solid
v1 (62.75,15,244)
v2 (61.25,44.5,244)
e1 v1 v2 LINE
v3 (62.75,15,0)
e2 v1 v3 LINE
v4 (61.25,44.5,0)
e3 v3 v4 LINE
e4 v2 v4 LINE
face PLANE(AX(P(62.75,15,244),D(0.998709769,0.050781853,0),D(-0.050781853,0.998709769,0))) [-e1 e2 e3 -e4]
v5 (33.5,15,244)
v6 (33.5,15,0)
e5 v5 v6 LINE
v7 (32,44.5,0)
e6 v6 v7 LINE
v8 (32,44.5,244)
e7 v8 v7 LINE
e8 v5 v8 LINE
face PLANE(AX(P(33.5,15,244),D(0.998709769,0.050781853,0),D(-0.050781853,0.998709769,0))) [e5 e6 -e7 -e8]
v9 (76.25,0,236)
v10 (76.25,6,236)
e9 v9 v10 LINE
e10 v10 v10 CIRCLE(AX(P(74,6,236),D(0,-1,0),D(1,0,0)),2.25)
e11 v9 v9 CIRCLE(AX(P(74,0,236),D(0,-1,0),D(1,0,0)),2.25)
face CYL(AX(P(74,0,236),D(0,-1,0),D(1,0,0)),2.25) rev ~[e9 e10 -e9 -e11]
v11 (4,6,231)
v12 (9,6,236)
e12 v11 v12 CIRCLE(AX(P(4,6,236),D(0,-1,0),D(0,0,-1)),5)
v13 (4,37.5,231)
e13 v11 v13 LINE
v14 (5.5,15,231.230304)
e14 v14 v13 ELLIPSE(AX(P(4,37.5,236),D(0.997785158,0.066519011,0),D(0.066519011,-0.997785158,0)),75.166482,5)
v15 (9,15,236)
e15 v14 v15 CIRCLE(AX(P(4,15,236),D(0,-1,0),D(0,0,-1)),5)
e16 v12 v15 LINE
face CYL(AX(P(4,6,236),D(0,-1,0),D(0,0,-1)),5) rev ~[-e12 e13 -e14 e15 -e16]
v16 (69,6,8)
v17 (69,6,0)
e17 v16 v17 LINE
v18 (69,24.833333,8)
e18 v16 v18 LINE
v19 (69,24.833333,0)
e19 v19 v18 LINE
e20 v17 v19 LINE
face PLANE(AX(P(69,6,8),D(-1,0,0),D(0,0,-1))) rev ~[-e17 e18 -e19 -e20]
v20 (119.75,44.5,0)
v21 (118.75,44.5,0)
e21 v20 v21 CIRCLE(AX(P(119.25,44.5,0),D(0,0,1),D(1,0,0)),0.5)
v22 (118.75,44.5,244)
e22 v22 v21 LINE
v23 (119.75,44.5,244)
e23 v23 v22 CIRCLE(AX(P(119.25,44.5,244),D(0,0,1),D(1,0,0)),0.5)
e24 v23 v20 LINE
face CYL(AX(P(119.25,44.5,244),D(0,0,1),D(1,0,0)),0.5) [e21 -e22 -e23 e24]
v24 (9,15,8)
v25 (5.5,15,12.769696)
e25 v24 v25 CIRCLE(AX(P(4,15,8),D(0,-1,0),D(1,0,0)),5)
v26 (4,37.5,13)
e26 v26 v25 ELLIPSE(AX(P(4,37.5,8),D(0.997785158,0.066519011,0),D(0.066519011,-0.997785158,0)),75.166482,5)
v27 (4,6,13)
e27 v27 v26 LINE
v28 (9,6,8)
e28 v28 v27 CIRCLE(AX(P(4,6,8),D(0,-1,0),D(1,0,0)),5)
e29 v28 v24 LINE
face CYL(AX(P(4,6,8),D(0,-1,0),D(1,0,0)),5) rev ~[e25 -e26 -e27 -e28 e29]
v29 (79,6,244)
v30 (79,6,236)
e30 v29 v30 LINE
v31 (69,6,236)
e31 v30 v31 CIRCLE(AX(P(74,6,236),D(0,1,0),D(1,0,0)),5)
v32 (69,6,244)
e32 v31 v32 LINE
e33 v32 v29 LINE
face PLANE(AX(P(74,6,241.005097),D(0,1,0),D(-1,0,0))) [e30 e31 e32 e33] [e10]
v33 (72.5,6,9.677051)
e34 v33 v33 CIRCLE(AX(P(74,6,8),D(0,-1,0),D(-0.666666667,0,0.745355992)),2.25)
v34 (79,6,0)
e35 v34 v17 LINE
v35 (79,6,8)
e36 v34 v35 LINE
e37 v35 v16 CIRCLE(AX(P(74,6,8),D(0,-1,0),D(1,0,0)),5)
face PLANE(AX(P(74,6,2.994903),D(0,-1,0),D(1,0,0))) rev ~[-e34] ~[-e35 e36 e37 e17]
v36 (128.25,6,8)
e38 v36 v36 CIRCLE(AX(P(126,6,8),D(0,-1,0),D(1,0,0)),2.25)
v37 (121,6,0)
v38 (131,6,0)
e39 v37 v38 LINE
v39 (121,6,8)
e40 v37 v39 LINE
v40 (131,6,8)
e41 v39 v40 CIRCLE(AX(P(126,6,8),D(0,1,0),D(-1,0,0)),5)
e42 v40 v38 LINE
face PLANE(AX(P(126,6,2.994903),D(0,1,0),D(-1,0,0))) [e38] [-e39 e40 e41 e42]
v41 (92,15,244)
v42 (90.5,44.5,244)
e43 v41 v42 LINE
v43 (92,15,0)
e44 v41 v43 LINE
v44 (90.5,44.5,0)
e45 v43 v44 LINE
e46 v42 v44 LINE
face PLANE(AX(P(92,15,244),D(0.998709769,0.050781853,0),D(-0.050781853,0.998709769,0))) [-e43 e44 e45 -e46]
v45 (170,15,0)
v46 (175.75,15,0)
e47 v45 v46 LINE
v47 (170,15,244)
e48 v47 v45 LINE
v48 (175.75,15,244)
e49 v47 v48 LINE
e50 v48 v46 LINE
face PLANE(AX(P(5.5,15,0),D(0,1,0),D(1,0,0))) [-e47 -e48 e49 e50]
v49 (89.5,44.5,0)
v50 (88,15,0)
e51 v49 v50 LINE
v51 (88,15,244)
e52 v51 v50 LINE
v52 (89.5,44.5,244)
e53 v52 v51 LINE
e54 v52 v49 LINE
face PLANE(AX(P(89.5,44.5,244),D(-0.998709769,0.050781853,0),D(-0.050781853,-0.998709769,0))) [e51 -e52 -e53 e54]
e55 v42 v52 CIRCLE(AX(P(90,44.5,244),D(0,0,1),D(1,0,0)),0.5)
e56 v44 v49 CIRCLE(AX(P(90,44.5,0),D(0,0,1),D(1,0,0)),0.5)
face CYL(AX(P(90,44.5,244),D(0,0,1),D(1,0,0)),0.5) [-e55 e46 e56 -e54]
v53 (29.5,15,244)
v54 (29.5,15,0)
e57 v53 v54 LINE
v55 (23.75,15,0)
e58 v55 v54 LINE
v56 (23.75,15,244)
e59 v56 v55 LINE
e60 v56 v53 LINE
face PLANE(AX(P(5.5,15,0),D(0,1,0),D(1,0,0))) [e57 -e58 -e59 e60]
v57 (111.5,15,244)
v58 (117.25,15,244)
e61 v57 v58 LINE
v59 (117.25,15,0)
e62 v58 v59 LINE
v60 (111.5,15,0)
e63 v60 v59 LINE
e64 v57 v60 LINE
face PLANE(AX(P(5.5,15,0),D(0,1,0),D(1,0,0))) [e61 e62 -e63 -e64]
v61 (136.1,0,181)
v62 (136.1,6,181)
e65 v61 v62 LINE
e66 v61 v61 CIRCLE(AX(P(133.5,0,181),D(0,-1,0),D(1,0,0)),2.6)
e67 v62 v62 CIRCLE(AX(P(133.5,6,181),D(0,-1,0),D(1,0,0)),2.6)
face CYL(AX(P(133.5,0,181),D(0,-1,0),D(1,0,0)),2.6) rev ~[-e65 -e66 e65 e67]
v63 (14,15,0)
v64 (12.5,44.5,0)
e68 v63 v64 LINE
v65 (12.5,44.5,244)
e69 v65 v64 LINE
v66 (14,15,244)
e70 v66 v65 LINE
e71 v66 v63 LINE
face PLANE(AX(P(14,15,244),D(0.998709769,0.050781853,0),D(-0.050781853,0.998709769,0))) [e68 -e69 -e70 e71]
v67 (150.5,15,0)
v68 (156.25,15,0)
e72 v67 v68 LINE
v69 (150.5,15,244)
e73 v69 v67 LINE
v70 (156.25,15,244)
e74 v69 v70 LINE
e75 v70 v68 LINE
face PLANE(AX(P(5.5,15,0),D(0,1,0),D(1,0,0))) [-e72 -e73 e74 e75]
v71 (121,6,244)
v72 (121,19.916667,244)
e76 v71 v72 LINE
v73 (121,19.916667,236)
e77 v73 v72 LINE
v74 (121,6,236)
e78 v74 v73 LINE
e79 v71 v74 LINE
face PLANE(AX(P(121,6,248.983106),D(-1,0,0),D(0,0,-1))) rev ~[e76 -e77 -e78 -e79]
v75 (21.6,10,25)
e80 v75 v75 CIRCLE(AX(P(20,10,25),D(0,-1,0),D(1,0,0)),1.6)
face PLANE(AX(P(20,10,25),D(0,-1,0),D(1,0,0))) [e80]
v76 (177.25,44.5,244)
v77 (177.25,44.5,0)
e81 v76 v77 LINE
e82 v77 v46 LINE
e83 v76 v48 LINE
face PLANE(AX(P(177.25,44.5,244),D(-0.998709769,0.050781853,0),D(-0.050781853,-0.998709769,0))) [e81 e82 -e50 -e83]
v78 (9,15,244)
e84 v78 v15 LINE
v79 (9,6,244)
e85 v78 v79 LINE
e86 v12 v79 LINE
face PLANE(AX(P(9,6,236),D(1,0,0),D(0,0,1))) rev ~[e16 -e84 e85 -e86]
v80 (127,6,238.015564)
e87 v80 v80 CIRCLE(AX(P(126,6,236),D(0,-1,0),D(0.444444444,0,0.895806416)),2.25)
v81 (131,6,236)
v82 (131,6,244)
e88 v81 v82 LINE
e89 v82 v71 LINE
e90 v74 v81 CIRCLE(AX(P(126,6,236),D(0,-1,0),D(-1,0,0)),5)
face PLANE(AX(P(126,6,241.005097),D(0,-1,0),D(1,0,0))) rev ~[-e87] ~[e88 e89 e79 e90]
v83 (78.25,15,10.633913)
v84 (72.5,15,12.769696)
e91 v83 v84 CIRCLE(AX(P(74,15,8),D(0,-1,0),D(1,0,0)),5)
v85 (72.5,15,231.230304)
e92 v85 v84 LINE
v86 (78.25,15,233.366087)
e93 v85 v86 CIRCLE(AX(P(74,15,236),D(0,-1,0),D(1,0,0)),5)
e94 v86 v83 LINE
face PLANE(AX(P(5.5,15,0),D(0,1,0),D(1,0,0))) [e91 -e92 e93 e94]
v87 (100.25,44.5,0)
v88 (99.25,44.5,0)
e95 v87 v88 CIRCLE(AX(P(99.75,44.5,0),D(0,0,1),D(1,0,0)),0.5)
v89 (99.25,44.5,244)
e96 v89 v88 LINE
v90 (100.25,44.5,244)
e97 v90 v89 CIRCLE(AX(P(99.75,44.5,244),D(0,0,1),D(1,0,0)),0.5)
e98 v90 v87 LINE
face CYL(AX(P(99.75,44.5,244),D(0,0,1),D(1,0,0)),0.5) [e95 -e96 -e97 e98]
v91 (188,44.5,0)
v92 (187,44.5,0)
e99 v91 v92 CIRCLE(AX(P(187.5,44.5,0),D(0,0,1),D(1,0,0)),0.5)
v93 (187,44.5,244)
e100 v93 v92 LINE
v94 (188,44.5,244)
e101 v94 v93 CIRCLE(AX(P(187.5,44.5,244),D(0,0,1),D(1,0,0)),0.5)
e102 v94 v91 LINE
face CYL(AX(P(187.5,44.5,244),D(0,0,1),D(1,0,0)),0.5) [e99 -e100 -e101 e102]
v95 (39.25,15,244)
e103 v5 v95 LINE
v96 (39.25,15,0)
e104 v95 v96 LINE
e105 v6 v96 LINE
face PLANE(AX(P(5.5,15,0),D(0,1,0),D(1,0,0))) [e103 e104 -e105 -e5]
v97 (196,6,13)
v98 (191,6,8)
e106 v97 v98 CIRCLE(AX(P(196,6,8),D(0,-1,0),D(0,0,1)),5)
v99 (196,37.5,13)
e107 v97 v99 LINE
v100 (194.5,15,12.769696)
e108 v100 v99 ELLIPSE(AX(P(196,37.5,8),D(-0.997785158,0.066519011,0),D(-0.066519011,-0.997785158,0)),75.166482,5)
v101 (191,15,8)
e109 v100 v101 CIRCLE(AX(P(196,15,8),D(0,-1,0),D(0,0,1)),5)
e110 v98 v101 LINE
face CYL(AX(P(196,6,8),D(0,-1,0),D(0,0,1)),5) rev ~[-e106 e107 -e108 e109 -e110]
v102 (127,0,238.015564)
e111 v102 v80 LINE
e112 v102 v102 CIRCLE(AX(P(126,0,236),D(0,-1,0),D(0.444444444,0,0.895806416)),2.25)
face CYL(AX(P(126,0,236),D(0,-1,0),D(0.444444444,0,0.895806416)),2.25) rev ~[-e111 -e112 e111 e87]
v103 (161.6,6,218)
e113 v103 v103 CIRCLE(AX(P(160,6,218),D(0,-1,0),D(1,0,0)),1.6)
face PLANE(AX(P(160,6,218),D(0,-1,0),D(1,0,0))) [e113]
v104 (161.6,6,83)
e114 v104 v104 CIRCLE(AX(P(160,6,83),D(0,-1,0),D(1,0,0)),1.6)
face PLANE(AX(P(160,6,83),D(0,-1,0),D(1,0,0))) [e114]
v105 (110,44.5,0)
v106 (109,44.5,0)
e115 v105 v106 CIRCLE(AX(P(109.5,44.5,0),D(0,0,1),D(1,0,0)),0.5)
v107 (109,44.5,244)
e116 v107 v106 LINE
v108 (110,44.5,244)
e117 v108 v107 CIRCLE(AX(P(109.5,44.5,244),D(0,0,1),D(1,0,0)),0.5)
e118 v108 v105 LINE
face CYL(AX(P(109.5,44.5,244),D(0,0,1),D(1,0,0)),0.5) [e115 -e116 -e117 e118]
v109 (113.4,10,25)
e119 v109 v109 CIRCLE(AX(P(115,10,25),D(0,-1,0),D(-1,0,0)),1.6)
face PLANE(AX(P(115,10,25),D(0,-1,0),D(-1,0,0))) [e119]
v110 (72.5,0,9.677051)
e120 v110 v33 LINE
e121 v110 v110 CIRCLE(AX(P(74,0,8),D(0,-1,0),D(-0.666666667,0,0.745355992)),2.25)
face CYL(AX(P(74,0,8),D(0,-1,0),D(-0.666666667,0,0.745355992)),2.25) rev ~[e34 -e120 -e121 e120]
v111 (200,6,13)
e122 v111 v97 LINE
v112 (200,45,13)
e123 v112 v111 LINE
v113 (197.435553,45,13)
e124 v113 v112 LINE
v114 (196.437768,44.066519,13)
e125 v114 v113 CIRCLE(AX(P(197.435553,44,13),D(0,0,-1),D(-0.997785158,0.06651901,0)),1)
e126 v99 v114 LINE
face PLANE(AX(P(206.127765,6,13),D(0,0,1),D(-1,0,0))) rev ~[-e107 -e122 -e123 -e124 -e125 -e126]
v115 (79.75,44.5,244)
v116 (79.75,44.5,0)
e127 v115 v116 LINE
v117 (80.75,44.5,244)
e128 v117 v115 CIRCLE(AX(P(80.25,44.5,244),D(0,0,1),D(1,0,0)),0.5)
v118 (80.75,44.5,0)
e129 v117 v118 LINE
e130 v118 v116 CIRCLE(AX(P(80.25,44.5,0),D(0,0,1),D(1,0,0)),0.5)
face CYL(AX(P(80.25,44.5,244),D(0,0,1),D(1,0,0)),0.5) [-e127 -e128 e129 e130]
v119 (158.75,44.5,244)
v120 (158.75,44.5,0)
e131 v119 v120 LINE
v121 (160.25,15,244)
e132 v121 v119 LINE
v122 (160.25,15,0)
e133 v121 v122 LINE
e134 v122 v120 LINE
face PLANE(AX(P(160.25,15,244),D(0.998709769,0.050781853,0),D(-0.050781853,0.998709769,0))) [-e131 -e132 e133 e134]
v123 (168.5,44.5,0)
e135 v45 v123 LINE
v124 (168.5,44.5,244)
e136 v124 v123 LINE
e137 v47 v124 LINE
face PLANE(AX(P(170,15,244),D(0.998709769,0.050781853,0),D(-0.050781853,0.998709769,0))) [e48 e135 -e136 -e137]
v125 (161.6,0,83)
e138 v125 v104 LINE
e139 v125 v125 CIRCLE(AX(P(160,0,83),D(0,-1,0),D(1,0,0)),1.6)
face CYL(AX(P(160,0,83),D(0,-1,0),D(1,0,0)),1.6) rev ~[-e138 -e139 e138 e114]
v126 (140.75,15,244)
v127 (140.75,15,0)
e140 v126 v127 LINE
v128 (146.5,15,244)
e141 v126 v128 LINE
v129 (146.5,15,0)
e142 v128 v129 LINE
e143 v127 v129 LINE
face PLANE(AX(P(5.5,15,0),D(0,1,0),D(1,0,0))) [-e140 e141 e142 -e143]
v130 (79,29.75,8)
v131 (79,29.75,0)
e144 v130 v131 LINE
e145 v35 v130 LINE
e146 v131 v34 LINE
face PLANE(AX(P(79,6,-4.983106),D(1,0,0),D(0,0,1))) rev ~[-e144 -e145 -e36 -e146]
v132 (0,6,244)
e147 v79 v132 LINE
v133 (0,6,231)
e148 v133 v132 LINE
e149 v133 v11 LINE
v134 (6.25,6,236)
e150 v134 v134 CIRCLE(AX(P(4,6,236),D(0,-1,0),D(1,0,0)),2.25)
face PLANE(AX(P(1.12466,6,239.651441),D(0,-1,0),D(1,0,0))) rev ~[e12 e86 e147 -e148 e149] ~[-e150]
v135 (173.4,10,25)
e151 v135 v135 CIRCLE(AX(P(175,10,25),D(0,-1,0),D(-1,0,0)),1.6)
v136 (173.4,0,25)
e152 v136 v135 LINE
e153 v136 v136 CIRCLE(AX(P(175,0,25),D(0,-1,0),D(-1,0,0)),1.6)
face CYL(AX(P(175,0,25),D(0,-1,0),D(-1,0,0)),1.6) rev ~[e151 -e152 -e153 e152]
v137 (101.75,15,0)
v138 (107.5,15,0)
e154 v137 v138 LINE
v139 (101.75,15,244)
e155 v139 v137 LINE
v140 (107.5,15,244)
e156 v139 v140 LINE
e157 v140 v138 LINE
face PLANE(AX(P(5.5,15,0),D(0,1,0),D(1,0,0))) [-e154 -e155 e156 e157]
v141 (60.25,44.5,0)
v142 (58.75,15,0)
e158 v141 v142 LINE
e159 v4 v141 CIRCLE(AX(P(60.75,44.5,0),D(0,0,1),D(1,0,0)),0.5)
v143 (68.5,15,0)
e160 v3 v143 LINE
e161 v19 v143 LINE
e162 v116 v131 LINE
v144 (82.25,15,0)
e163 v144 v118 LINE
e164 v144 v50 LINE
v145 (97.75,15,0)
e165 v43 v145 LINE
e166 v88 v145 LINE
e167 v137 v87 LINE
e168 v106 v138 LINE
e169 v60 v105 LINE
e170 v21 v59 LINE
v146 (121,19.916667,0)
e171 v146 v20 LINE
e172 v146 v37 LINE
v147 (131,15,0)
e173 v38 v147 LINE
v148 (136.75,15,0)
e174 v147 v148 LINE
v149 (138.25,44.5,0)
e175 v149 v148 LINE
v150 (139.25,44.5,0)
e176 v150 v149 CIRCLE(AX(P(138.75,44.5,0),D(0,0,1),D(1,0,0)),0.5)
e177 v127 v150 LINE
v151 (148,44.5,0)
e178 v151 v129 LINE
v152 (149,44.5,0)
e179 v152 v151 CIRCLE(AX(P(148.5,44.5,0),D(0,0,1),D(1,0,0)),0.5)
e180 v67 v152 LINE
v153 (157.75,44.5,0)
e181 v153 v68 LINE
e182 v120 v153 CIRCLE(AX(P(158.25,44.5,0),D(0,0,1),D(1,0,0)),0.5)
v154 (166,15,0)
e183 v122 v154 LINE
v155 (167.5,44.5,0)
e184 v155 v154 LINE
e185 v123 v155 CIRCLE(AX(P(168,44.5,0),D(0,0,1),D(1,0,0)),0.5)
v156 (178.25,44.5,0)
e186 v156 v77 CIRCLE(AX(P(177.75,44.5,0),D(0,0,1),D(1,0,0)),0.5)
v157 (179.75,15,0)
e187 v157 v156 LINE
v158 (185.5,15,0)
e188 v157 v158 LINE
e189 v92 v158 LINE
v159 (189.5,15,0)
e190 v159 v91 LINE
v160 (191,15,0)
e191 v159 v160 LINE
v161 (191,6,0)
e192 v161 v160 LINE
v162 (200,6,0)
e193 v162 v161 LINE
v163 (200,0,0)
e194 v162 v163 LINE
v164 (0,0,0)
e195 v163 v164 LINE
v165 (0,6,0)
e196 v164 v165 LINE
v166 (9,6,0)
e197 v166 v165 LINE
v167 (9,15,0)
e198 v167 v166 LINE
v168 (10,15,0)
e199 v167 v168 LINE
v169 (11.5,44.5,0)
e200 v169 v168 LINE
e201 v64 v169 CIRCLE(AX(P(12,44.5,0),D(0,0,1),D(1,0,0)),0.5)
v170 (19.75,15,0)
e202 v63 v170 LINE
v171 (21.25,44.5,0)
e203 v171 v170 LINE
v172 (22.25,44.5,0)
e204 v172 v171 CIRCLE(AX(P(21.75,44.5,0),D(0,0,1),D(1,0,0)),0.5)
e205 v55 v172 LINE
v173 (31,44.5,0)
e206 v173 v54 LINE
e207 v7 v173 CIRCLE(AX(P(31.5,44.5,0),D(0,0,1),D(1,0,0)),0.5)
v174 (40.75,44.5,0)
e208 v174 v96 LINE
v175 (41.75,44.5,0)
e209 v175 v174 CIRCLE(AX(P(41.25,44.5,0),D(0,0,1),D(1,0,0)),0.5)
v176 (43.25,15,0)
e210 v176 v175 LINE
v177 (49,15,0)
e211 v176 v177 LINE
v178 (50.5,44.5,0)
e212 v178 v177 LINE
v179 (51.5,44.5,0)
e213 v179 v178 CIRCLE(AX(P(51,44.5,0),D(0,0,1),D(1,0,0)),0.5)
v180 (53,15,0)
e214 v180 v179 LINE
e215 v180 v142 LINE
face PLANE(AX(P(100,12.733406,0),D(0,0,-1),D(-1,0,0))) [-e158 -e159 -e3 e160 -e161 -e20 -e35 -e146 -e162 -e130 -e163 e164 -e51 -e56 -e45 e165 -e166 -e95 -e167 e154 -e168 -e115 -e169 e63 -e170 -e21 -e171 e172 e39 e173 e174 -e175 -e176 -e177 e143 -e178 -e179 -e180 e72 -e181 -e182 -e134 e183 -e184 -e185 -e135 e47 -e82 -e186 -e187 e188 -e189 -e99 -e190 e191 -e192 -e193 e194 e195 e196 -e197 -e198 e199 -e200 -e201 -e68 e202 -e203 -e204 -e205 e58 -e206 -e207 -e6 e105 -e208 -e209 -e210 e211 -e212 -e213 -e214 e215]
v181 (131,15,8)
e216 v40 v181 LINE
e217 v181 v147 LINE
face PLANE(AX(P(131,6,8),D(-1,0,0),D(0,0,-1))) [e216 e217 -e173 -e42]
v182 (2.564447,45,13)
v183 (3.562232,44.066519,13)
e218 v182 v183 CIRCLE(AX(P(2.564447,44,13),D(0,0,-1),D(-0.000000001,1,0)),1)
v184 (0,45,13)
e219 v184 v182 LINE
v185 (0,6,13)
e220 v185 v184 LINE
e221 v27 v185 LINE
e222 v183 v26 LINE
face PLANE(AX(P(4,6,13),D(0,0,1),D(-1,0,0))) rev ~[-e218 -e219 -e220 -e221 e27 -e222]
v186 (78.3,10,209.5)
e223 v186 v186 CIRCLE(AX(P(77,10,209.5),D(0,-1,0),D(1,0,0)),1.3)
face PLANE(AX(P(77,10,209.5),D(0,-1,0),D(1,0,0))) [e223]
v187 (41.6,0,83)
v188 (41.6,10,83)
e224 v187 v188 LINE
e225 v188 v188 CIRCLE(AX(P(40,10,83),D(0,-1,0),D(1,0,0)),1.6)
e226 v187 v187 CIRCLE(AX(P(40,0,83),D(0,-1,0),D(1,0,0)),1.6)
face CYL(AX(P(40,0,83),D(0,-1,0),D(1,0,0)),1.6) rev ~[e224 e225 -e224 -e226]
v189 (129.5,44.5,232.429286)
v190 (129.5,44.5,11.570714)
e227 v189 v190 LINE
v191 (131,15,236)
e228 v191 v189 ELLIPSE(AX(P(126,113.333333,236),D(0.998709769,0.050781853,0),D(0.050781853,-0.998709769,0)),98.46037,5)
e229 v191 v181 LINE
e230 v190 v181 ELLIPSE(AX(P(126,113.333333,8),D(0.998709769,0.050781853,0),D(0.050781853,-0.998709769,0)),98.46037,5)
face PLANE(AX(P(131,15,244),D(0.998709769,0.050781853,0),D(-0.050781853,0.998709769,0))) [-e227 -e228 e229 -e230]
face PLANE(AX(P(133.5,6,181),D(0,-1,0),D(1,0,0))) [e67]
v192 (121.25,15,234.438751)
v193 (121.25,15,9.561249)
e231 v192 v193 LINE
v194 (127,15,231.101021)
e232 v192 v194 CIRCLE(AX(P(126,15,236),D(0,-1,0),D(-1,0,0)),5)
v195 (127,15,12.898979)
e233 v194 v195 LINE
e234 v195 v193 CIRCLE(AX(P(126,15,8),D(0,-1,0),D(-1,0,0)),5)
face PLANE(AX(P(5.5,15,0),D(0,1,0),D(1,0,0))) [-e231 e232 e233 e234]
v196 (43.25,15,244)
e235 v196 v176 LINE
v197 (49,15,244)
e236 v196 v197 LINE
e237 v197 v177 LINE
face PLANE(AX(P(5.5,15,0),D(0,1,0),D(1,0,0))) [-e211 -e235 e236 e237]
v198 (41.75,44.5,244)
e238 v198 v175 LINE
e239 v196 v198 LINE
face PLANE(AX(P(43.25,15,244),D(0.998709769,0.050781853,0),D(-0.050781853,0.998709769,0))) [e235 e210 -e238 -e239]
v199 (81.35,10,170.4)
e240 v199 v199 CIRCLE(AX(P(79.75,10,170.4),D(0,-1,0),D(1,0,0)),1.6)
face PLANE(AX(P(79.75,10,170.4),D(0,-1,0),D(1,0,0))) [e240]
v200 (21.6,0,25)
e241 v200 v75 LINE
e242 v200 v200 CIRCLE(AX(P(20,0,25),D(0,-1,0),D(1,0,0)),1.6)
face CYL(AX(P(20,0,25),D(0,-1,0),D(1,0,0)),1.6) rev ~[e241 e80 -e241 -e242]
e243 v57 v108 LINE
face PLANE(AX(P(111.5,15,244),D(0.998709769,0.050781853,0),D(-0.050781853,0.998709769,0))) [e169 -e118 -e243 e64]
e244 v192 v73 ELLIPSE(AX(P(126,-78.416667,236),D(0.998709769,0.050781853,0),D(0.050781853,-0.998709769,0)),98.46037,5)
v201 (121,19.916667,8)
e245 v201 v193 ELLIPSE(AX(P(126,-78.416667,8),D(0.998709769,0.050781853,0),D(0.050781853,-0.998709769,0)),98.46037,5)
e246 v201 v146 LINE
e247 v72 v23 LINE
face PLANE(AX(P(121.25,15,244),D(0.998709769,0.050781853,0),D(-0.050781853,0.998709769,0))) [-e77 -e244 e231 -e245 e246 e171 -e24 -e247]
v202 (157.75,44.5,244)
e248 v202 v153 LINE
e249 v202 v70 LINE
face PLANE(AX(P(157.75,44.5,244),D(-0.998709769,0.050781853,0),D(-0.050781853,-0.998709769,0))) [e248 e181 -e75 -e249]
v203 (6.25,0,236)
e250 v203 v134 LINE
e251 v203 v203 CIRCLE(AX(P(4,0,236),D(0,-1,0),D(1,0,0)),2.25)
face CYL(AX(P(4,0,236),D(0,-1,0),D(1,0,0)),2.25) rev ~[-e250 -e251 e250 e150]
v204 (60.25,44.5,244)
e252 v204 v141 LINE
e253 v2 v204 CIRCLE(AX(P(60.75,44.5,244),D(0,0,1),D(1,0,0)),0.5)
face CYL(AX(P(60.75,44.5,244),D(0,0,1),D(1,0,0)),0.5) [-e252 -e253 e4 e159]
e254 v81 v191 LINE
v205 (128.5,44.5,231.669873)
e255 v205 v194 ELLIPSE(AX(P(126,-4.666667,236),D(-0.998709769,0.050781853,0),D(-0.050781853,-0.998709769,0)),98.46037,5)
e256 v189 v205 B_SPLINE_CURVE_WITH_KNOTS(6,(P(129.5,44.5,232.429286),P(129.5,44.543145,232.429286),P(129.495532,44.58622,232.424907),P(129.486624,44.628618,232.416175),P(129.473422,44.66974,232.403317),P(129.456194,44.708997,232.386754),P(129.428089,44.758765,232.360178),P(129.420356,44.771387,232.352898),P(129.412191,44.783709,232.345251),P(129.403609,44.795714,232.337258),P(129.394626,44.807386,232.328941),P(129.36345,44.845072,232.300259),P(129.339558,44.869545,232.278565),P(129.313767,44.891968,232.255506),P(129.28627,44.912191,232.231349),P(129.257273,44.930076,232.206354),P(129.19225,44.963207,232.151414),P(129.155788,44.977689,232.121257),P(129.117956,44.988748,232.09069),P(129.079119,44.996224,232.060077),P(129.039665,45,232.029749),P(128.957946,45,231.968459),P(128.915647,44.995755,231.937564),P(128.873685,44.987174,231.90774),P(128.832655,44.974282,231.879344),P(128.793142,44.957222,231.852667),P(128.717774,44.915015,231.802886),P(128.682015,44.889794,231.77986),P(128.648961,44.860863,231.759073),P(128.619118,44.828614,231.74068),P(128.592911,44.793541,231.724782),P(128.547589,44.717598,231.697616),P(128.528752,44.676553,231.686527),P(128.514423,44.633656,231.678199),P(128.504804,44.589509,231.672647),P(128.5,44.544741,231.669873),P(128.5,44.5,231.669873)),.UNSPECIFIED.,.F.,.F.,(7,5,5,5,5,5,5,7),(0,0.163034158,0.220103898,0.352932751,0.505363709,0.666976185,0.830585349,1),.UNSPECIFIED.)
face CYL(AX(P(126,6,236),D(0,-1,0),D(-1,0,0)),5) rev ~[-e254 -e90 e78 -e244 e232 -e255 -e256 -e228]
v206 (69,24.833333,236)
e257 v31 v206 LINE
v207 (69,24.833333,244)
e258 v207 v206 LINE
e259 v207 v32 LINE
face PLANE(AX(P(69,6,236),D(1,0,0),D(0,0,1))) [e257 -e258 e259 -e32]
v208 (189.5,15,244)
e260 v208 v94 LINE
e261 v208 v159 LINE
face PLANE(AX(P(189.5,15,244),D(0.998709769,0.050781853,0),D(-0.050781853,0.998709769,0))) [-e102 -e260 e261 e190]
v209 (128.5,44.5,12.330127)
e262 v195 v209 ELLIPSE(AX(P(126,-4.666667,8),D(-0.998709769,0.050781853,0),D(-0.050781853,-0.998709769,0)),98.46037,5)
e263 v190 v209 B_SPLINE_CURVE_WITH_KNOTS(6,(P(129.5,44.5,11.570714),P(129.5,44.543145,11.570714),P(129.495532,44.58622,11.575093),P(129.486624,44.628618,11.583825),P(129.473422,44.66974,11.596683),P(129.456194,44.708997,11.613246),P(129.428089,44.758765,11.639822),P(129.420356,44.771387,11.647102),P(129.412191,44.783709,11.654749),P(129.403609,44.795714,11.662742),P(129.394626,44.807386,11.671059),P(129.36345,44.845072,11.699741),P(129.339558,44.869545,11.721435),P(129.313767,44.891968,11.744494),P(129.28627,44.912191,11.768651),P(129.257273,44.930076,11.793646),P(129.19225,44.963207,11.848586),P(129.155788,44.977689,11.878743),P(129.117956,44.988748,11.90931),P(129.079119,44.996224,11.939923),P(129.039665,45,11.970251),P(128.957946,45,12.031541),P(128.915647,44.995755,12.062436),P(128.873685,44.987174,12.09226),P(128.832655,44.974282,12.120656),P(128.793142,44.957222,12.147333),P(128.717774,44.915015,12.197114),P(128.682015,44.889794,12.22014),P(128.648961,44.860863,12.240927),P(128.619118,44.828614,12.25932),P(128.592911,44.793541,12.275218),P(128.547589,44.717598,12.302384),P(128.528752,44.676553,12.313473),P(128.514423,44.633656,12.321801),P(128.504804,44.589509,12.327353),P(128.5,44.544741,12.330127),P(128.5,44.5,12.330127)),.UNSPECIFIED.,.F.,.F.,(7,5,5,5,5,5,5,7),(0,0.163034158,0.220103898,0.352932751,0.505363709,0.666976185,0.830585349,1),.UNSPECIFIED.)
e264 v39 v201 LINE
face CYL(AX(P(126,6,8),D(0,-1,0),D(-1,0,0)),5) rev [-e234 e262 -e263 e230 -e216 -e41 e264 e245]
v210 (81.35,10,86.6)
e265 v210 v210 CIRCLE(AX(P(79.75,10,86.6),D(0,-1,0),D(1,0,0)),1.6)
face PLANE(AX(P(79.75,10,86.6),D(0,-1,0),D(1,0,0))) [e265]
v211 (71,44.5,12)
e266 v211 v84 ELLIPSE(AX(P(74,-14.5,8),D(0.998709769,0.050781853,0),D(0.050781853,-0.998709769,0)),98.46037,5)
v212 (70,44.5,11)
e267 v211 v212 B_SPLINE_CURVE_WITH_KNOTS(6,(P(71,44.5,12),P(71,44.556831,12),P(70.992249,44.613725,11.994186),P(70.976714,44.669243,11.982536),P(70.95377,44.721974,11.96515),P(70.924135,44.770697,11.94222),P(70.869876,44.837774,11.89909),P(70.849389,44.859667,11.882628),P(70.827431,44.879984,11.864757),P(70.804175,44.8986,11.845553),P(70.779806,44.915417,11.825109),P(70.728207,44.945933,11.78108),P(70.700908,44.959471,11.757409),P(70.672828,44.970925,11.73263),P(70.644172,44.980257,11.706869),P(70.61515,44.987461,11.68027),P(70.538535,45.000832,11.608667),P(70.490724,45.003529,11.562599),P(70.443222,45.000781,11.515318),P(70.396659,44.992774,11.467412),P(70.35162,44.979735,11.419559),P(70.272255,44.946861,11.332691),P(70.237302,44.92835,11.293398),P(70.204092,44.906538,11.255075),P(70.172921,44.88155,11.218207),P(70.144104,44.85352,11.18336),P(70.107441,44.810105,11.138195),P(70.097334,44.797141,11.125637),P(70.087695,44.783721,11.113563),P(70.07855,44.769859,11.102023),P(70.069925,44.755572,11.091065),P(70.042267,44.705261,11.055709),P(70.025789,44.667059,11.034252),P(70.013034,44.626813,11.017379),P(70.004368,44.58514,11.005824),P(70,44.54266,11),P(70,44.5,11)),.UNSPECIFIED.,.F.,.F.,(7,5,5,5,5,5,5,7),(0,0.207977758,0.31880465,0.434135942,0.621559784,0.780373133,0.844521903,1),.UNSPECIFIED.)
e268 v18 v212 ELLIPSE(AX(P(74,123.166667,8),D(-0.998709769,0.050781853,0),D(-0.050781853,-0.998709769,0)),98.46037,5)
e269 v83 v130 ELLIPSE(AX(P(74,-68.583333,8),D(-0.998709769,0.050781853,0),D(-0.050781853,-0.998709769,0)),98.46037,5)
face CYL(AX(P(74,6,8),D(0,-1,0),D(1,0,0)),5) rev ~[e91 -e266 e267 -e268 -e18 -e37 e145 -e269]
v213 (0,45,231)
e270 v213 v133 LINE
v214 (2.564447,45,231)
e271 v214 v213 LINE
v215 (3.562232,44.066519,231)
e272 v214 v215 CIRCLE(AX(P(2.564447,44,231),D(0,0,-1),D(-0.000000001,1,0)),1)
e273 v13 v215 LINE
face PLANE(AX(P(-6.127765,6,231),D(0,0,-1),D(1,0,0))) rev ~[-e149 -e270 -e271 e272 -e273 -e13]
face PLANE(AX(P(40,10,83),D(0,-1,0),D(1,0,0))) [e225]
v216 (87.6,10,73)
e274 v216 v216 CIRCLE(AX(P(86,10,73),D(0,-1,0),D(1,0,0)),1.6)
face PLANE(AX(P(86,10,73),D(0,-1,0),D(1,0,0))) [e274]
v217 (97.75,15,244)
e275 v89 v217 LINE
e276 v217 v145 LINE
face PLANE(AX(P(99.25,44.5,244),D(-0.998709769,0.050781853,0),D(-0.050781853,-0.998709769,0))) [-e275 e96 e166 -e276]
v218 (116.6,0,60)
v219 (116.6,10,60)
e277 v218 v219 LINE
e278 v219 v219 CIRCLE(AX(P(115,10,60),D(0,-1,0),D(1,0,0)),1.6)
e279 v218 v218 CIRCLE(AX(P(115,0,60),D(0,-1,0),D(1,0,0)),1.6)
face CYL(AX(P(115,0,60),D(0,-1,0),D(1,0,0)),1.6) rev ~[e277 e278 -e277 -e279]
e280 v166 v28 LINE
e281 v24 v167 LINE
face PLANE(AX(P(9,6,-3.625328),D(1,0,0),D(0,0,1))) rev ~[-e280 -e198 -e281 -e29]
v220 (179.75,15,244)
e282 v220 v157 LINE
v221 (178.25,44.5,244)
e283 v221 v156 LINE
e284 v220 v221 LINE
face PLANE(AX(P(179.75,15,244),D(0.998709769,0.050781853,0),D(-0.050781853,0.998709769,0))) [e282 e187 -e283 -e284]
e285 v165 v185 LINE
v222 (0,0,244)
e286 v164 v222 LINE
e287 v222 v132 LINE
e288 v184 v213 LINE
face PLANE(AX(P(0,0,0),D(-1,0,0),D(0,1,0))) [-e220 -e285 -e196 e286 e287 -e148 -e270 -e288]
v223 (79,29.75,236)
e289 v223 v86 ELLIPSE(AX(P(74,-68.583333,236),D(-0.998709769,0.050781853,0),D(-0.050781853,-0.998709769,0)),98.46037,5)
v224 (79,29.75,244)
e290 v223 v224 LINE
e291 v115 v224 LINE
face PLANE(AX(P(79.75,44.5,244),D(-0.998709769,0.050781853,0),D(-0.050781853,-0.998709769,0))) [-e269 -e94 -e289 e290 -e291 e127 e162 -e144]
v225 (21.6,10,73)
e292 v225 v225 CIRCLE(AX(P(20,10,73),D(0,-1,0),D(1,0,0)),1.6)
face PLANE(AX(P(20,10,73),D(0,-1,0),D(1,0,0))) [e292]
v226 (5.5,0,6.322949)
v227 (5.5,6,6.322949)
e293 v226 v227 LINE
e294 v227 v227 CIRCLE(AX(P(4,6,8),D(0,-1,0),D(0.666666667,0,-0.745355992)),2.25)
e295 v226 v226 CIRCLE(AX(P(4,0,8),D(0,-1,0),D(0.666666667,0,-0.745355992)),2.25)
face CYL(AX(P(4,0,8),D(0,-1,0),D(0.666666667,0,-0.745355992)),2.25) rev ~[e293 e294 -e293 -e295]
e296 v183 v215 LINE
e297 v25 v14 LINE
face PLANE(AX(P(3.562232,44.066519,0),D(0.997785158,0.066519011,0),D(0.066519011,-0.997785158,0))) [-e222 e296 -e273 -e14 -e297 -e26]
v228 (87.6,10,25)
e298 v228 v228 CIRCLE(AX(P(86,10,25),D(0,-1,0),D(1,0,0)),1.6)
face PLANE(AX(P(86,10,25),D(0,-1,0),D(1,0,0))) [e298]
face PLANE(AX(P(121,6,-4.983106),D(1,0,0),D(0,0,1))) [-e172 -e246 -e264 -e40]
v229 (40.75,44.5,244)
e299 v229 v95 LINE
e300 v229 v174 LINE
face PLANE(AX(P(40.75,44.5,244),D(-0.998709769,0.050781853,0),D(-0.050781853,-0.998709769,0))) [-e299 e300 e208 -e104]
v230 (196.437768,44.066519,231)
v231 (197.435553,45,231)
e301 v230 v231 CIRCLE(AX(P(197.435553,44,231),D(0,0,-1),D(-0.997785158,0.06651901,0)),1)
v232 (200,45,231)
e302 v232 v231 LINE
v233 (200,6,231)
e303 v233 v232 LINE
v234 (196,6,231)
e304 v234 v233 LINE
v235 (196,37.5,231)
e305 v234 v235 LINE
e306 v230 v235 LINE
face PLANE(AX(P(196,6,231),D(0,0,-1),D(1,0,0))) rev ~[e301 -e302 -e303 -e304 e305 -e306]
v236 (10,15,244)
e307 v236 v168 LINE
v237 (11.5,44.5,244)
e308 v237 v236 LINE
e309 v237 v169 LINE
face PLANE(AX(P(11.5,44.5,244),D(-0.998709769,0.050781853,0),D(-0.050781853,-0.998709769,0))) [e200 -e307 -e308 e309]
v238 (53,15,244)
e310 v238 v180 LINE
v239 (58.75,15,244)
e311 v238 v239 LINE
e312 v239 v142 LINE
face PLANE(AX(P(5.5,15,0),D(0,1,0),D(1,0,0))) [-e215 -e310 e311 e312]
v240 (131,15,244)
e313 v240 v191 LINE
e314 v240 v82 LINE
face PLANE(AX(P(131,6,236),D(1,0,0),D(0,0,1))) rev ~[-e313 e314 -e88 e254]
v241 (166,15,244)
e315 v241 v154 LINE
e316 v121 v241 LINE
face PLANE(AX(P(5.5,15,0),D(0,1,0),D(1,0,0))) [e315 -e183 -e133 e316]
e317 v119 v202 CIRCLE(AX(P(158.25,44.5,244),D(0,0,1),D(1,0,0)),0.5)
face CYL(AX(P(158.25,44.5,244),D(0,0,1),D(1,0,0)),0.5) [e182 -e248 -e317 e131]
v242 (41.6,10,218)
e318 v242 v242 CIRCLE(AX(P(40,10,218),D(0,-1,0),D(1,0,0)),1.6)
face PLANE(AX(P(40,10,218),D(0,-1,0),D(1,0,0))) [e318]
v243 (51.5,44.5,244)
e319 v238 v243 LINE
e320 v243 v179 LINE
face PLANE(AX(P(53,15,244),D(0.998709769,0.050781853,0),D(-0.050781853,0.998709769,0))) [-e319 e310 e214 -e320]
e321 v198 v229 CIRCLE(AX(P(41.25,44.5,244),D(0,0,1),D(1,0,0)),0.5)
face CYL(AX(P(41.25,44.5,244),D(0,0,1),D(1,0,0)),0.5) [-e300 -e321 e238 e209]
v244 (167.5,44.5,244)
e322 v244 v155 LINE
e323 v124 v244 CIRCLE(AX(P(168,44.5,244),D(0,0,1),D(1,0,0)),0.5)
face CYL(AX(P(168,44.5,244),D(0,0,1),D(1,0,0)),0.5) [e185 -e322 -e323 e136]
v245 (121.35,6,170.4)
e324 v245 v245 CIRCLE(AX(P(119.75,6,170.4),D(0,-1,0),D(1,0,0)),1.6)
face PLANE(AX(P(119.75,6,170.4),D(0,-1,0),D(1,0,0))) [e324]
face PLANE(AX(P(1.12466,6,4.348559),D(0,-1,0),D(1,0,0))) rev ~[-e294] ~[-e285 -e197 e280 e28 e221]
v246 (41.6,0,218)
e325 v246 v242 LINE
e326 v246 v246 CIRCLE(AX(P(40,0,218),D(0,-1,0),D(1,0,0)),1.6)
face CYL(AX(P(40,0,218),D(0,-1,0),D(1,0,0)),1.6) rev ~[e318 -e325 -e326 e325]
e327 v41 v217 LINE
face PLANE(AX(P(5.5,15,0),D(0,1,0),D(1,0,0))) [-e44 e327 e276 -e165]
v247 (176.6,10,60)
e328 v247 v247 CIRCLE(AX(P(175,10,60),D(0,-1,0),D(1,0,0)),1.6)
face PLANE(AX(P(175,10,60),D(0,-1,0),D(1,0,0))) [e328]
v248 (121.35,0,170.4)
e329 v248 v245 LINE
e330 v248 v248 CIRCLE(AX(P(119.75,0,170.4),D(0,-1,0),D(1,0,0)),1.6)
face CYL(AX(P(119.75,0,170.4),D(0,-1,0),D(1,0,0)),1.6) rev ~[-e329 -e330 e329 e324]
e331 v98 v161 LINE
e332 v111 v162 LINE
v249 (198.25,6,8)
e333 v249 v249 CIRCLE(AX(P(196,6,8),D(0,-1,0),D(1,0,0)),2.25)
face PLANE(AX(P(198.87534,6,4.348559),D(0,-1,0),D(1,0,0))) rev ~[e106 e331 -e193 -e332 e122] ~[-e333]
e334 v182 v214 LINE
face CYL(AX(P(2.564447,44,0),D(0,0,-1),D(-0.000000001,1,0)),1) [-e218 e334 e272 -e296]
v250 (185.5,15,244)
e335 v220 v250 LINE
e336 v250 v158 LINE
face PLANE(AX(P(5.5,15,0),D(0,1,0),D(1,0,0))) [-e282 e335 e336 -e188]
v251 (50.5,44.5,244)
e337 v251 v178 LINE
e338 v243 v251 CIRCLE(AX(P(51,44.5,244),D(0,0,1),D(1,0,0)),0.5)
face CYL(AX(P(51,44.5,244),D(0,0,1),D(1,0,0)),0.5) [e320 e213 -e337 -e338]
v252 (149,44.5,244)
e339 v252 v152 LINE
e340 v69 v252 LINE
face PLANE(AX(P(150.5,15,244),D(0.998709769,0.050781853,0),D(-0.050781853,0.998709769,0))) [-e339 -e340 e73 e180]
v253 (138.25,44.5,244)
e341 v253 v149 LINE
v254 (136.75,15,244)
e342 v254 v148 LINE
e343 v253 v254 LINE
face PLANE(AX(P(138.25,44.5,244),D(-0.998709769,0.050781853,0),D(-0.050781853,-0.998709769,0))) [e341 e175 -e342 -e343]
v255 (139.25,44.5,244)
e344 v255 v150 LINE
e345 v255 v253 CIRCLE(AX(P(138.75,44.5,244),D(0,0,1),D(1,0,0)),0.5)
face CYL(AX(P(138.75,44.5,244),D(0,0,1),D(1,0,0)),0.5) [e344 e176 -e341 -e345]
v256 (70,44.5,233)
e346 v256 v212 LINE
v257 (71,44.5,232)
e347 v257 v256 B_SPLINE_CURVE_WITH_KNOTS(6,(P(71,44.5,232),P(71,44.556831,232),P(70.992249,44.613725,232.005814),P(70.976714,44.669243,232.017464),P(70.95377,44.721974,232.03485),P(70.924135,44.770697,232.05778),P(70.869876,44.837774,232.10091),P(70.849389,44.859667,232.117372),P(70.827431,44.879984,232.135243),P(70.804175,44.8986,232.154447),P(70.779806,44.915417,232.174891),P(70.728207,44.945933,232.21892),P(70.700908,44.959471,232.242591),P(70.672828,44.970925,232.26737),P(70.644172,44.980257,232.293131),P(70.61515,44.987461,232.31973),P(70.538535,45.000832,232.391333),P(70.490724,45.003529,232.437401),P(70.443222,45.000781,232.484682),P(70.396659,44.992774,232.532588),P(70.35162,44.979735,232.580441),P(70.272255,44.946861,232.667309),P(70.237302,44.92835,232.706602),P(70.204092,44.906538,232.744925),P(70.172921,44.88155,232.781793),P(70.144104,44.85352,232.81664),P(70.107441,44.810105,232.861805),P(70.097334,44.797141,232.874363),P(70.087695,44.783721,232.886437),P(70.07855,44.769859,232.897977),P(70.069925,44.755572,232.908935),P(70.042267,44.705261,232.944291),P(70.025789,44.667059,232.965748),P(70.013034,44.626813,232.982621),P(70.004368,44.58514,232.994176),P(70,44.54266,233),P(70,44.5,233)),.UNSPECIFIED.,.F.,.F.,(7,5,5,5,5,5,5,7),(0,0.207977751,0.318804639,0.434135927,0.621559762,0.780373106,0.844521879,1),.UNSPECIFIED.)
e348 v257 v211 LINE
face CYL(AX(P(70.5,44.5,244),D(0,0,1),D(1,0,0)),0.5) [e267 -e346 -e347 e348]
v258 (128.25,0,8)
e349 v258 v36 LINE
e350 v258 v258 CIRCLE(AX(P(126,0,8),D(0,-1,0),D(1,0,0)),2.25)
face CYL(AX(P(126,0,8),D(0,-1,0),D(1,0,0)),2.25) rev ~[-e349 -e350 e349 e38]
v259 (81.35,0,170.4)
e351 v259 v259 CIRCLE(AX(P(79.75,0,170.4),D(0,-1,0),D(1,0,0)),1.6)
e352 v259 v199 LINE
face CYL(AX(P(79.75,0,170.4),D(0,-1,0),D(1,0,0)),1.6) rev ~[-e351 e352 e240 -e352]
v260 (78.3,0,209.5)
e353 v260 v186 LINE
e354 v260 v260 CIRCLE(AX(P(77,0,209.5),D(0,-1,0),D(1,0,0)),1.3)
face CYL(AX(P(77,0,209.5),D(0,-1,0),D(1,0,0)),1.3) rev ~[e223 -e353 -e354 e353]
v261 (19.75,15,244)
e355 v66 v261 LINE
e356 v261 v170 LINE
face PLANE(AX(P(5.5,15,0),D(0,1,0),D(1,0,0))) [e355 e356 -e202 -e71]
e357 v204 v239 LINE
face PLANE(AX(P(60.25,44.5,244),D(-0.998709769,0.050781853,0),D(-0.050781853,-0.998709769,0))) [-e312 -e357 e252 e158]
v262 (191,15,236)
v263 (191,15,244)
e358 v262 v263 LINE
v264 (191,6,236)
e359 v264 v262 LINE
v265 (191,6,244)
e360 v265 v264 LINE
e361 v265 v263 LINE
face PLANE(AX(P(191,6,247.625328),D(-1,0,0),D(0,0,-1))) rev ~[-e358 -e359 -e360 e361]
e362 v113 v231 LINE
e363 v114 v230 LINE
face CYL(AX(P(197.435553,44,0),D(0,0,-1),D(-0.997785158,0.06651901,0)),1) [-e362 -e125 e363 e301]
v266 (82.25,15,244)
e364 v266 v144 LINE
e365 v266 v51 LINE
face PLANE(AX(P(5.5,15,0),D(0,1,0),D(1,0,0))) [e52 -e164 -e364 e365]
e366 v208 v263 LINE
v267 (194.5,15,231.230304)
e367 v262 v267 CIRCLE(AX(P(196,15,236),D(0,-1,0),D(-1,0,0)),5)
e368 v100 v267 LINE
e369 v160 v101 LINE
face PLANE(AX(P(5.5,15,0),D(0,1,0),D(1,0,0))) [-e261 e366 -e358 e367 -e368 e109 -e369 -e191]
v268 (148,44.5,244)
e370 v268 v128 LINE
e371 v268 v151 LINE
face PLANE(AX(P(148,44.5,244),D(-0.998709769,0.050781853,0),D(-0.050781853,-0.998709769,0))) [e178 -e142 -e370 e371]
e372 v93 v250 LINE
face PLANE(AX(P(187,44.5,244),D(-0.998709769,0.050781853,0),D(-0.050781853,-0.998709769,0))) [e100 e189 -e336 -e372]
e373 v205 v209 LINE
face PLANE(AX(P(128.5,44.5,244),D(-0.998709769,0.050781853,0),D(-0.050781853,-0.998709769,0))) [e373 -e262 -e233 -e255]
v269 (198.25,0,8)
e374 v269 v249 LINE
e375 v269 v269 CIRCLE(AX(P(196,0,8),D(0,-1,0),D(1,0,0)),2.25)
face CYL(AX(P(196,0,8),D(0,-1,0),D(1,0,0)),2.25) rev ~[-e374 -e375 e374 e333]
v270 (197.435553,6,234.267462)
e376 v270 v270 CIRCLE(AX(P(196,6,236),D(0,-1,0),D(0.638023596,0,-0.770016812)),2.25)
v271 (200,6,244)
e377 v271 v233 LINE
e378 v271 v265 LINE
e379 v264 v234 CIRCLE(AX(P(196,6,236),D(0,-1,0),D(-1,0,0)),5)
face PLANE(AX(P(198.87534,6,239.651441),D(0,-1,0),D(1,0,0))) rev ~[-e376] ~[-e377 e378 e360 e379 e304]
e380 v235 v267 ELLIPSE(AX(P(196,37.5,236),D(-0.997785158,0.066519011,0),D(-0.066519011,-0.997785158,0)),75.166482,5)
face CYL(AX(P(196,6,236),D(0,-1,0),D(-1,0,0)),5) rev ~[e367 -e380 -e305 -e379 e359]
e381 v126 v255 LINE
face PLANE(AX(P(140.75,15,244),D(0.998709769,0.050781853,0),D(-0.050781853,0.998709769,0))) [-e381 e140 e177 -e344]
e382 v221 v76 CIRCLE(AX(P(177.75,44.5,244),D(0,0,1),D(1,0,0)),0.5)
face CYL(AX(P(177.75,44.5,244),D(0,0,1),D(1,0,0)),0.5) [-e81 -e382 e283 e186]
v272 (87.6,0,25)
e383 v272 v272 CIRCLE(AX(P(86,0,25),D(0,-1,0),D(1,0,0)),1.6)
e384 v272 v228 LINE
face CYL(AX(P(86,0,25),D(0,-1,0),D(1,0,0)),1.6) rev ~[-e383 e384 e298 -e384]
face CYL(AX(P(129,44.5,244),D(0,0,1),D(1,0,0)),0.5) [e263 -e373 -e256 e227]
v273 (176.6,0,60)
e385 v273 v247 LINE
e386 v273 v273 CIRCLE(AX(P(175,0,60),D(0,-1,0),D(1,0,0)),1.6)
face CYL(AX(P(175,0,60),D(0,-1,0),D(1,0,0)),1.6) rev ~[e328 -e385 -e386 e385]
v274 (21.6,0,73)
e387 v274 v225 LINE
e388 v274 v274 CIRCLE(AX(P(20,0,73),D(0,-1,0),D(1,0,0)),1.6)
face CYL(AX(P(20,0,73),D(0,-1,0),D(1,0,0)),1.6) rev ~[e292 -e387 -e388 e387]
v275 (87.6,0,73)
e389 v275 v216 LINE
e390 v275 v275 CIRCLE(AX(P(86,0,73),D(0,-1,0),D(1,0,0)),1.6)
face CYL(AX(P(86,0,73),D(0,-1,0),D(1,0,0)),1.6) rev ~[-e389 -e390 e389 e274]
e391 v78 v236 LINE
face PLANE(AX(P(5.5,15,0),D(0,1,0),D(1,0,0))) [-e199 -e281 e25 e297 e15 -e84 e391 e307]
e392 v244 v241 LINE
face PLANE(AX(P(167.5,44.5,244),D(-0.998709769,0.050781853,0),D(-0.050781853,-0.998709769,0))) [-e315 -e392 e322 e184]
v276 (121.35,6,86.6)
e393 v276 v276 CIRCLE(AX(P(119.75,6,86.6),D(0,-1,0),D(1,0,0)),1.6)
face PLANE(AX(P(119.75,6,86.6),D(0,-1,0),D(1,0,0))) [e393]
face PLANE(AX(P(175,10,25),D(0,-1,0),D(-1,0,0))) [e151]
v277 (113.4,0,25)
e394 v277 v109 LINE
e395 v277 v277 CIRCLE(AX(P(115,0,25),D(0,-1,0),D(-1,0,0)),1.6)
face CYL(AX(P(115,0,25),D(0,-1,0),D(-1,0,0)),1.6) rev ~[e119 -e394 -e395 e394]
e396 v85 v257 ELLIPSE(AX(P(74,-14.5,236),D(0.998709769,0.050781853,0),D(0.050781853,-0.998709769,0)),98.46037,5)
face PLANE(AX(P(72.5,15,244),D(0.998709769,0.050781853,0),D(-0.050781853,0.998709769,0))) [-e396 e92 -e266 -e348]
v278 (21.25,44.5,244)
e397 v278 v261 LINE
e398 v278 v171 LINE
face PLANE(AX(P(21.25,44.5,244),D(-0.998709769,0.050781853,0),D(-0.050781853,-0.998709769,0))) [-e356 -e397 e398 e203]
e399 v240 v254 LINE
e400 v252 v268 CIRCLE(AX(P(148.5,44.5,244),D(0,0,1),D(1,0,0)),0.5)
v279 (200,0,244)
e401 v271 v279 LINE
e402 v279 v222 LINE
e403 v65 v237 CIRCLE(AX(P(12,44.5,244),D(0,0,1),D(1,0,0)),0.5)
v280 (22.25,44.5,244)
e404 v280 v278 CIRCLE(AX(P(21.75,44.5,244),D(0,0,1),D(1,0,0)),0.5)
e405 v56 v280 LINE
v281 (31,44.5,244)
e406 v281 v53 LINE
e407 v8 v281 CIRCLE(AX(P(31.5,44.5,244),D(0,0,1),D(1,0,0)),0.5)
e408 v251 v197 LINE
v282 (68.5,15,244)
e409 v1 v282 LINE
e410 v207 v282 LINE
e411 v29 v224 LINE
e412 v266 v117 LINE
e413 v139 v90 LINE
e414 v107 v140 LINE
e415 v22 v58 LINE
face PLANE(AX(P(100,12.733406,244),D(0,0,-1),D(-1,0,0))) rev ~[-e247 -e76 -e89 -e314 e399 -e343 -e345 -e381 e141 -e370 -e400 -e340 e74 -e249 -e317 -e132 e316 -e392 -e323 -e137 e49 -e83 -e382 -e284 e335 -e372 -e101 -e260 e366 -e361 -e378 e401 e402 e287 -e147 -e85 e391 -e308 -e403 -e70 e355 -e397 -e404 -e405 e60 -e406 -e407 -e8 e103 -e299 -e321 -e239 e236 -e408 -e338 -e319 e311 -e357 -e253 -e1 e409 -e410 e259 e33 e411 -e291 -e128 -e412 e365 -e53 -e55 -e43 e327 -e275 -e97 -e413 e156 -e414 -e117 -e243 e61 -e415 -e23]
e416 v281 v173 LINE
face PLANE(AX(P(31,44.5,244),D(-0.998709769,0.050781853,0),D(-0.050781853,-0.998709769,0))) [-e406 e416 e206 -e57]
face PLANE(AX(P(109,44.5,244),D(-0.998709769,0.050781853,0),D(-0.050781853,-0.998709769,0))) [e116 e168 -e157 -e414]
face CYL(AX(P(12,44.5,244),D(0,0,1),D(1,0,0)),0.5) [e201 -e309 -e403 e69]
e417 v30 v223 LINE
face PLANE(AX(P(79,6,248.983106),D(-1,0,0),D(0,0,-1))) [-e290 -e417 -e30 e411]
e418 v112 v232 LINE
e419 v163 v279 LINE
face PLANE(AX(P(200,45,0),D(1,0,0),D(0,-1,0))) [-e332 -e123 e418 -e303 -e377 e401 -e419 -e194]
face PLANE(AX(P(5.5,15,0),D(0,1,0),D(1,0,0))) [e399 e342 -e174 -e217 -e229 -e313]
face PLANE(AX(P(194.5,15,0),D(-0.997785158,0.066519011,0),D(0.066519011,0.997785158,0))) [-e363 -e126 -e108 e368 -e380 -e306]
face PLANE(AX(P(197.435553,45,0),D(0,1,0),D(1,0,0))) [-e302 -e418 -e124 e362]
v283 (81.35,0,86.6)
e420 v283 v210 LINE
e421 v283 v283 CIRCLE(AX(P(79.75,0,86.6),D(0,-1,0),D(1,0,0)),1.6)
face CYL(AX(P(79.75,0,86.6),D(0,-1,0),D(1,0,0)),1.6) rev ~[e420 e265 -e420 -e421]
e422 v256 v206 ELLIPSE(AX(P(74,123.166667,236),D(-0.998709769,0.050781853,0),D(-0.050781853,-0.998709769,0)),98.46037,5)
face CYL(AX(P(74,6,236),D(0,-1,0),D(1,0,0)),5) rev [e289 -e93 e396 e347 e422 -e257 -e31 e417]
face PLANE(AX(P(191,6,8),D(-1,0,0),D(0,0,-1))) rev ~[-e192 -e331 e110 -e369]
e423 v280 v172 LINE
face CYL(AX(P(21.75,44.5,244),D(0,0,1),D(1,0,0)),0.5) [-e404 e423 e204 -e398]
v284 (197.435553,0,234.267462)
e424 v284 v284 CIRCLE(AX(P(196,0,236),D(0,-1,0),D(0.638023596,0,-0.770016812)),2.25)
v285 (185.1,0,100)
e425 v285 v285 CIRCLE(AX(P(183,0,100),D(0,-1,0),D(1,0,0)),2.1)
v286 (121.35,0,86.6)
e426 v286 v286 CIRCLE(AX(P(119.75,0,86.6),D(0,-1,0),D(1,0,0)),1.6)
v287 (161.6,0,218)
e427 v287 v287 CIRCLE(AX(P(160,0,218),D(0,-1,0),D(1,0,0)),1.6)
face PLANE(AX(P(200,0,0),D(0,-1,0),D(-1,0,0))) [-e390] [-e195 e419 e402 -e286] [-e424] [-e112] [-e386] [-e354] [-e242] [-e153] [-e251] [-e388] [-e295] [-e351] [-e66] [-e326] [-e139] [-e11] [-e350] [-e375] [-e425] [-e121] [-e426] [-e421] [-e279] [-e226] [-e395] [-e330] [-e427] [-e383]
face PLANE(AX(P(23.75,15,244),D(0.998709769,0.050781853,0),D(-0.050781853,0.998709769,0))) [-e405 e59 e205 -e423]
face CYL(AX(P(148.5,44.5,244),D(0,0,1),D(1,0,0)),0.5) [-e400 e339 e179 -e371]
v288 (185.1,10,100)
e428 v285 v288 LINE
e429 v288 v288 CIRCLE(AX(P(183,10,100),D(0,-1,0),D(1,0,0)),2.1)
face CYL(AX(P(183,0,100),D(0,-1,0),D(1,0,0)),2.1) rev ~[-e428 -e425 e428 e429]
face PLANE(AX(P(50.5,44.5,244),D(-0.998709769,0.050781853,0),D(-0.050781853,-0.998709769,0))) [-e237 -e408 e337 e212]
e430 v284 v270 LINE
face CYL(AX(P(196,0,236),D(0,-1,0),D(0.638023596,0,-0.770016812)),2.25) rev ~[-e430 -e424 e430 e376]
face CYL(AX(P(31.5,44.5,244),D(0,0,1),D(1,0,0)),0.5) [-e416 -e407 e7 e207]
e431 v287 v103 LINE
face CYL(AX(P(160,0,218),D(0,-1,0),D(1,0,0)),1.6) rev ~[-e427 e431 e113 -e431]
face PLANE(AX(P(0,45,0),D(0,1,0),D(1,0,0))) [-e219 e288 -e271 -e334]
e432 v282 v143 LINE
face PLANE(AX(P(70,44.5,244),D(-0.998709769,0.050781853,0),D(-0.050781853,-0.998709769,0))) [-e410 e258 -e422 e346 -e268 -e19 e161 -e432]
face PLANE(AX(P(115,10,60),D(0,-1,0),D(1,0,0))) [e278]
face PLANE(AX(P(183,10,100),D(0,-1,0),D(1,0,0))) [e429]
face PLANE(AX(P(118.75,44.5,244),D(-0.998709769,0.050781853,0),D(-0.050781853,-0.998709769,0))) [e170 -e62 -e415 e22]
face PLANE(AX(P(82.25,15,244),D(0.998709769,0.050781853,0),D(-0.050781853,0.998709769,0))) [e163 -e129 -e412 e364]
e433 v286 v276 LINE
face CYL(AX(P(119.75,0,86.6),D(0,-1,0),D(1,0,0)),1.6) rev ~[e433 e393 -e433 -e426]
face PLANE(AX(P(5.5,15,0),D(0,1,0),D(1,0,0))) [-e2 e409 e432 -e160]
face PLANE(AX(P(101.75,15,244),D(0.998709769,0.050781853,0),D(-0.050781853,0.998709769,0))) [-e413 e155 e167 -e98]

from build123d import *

# Parameters (mm, degrees)
EXTRUDE_1_DEPTH       = 244
EXTRUDE_3_DEPTH       = 244
PATTERN_CURVE_1_COUNT = 19
PATTERN_CURVE_1_PITCH = 9.75
SKETCH_3_R            = 2.25
CUT_EXTRUDE_1_DEPTH   = 50
CUT_EXTRUDE_3_DEPTH   = 80
SKETCH_8_R            = 1.6
SKETCH_8_R_2          = 1.3
CUT_EXTRUDE_4_DEPTH   = 10
SKETCH_10_R           = 2.6
SKETCH_10_R_2         = 1.6
CUT_EXTRUDE_5_DEPTH   = 6
SKETCH_12_R           = 2.1
SKETCH_12_R_2         = 1.6
CUT_EXTRUDE_6_DEPTH   = 10


with BuildPart() as part:
    # Эскиз1 → Вытянуть1 (new body)
    with BuildSketch(Plane.XY):
        with BuildLine():
            Line((0, 45), (2.564446908, 45))
            ThreePointArc((2.564446908, 45), (3.247630994, 44.730246195), (3.562232066, 44.066519011))
            Line((3.562232066, 44.066519011), (5.5, 15))
            Line((5.5, 15), (194.5, 15))
            Line((194.5, 15), (196.437767934, 44.066519011))
            ThreePointArc((196.437767934, 44.066519011), (196.752369006, 44.730246195), (197.435553092, 45))
            Line((197.435553092, 45), (200, 45))
            Line((200, 45), (200, 0))
            Line((200, 0), (0, 0))
            Line((0, 0), (0, 45))
        make_face()
    extrude(amount=EXTRUDE_1_DEPTH)

    # Эскиз2 → Вытянуть3 (add)
    with BuildSketch(Plane.XY.offset(244)):
        with BuildLine():
            Line((11.5, 44.5), (10, 15))
            Line((10, 15), (14, 15))
            Line((14, 15), (12.5, 44.5))
            ThreePointArc((12.5, 44.5), (12, 45), (11.5, 44.5))
        make_face()
    extrude_3 = extrude(amount=-EXTRUDE_3_DEPTH)

    # Кривая1: Вытянуть3 ×19
    with Locations(*[(i * PATTERN_CURVE_1_PITCH, 0, 0) for i in range(1, PATTERN_CURVE_1_COUNT)]):
        add(extrude_3)

    # Эскиз3 → Вырез-Вытянуть1 (cut)
    with BuildSketch(Plane.XZ):
        with Locations((4, 236)):
            Circle(SKETCH_3_R)
        with Locations((74, 236)):
            Circle(SKETCH_3_R)
        with Locations(Location((74, 8, 0), (0, 0, 131.810314896))):
            Circle(SKETCH_3_R)
        with Locations(Location((4, 8, 0), (0, 0, 311.810314896))):
            Circle(SKETCH_3_R)
        with Locations((196, 8)):
            Circle(SKETCH_3_R)
        with Locations((126, 8)):
            Circle(SKETCH_3_R)
        with Locations(Location((126, 236, 0), (0, 0, 63.612200039))):
            Circle(SKETCH_3_R)
        with Locations(Location((196, 236, 0), (0, 0, 309.644601439))):
            Circle(SKETCH_3_R)
    extrude(amount=-CUT_EXTRUDE_1_DEPTH, mode=Mode.SUBTRACT)

    # Эскиз6 → Вырез-Вытянуть3 (cut)
    with BuildSketch(Plane.XZ.offset(-6)):
        with BuildLine():
            Line((9, 236), (9, 247.625328498))
            Line((9, 247.625328498), (-6.127764857, 247.625328498))
            Line((-6.127764857, 247.625328498), (-6.127764857, 231))
            Line((-6.127764857, 231), (4, 231))
            ThreePointArc((4, 231), (7.535533906, 232.464466094), (9, 236))
        make_face()
        with BuildLine():
            Line((69, 236), (69, 248.983105869))
            Line((69, 248.983105869), (79, 248.983105869))
            Line((79, 248.983105869), (79, 236))
            ThreePointArc((79, 236), (74, 231), (69, 236))
        make_face()
        with BuildLine():
            Line((121, 248.983105869), (121, 236))
            ThreePointArc((121, 236), (126, 231), (131, 236))
            Line((131, 236), (131, 248.983105869))
            Line((131, 248.983105869), (121, 248.983105869))
        make_face()
        with BuildLine():
            Line((206.127764857, 247.625328498), (191, 247.625328498))
            Line((191, 247.625328498), (191, 236))
            ThreePointArc((191, 236), (192.464466094, 232.464466094), (196, 231))
            Line((196, 231), (206.127764857, 231))
            Line((206.127764857, 231), (206.127764857, 247.625328498))
        make_face()
        with BuildLine():
            Line((191, 8), (191, -3.625328498))
            Line((191, -3.625328498), (206.127764857, -3.625328498))
            Line((206.127764857, -3.625328498), (206.127764857, 13))
            Line((206.127764857, 13), (196, 13))
            ThreePointArc((196, 13), (192.464466094, 11.535533906), (191, 8))
        make_face()
        with BuildLine():
            Line((131, 8), (131, -4.983105869))
            Line((131, -4.983105869), (121, -4.983105869))
            Line((121, -4.983105869), (121, 8))
            ThreePointArc((121, 8), (126, 13), (131, 8))
        make_face()
        with BuildLine():
            Line((79, -4.983105869), (79, 8))
            ThreePointArc((79, 8), (74, 13), (69, 8))
            Line((69, 8), (69, -4.983105869))
            Line((69, -4.983105869), (79, -4.983105869))
        make_face()
        with BuildLine():
            Line((-6.127764857, -3.625328498), (9, -3.625328498))
            Line((9, -3.625328498), (9, 8))
            ThreePointArc((9, 8), (7.535533906, 11.535533906), (4, 13))
            Line((4, 13), (-6.127764857, 13))
            Line((-6.127764857, 13), (-6.127764857, -3.625328498))
        make_face()
    extrude(amount=-CUT_EXTRUDE_3_DEPTH, mode=Mode.SUBTRACT)

    # Эскиз8 → Вырез-Вытянуть4 (cut)
    with BuildSketch(Plane(origin=(133.240090243, 0, 310.149074448), x_dir=(-1, 0, 0), z_dir=(0, -1, 0))):
        with Locations(Location((93.240090243, 92.149074448, 0), (0, 0, 180))):
            Circle(SKETCH_8_R)
        with Locations(Location((93.240090243, 227.149074448, 0), (0, 0, 180))):
            Circle(SKETCH_8_R)
        with Locations(Location((53.490090243, 223.549074448, 0), (0, 0, 180))):
            Circle(SKETCH_8_R)
        with Locations(Location((53.490090243, 139.749074448, 0), (0, 0, 180))):
            Circle(SKETCH_8_R)
        with Locations(Location((56.240090243, 100.649074448, 0), (0, 0, 180))):
            Circle(SKETCH_8_R_2)
        with Locations(Location((113.240090243, 285.149074448, 0), (0, 0, 180))):
            Circle(SKETCH_8_R)
        with Locations(Location((113.240090243, 237.149074448, 0), (0, 0, 180))):
            Circle(SKETCH_8_R)
        with Locations(Location((47.240090243, 237.149074448, 0), (0, 0, 180))):
            Circle(SKETCH_8_R)
        with Locations(Location((47.240090243, 285.149074448, 0), (0, 0, 180))):
            Circle(SKETCH_8_R)
    extrude(amount=-CUT_EXTRUDE_4_DEPTH, mode=Mode.SUBTRACT)

    # Эскиз10 → Вырез-Вытянуть5 (cut)
    with BuildSketch(Plane(origin=(-5.723570629, 0, -26.359021189), x_dir=(1, 0, 0), z_dir=(0, -1, 0))):
        with Locations((139.223570629, 207.359021189)):
            Circle(SKETCH_10_R)
        with Locations((165.723570629, 244.359021189)):
            Circle(SKETCH_10_R_2)
        with Locations((165.723570629, 109.359021189)):
            Circle(SKETCH_10_R_2)
        with Locations((125.473570629, 196.759021189)):
            Circle(SKETCH_10_R_2)
        with Locations((125.473570629, 112.959021189)):
            Circle(SKETCH_10_R_2)
    extrude(amount=-CUT_EXTRUDE_5_DEPTH, mode=Mode.SUBTRACT)

    # Эскиз12 → Вырез-Вытянуть6 (cut)
    with BuildSketch(Plane(origin=(193.647525499, 0, 525.672067887), x_dir=(-1, 0, 0), z_dir=(0, -1, 0))):
        with Locations(Location((10.647525499, 425.672067887, 0), (0, 0, 180))):
            Circle(SKETCH_12_R)
        with Locations((18.647525499, 500.672067887)):
            Circle(SKETCH_12_R_2)
        with Locations((78.647525499, 500.672067887)):
            Circle(SKETCH_12_R_2)
        with Locations(Location((78.647525499, 465.672067887, 0), (0, 0, 180))):
            Circle(SKETCH_12_R_2)
        with Locations(Location((18.647525499, 465.672067887, 0), (0, 0, 180))):
            Circle(SKETCH_12_R_2)
    extrude(amount=-CUT_EXTRUDE_6_DEPTH, mode=Mode.SUBTRACT)


solid = part.part
